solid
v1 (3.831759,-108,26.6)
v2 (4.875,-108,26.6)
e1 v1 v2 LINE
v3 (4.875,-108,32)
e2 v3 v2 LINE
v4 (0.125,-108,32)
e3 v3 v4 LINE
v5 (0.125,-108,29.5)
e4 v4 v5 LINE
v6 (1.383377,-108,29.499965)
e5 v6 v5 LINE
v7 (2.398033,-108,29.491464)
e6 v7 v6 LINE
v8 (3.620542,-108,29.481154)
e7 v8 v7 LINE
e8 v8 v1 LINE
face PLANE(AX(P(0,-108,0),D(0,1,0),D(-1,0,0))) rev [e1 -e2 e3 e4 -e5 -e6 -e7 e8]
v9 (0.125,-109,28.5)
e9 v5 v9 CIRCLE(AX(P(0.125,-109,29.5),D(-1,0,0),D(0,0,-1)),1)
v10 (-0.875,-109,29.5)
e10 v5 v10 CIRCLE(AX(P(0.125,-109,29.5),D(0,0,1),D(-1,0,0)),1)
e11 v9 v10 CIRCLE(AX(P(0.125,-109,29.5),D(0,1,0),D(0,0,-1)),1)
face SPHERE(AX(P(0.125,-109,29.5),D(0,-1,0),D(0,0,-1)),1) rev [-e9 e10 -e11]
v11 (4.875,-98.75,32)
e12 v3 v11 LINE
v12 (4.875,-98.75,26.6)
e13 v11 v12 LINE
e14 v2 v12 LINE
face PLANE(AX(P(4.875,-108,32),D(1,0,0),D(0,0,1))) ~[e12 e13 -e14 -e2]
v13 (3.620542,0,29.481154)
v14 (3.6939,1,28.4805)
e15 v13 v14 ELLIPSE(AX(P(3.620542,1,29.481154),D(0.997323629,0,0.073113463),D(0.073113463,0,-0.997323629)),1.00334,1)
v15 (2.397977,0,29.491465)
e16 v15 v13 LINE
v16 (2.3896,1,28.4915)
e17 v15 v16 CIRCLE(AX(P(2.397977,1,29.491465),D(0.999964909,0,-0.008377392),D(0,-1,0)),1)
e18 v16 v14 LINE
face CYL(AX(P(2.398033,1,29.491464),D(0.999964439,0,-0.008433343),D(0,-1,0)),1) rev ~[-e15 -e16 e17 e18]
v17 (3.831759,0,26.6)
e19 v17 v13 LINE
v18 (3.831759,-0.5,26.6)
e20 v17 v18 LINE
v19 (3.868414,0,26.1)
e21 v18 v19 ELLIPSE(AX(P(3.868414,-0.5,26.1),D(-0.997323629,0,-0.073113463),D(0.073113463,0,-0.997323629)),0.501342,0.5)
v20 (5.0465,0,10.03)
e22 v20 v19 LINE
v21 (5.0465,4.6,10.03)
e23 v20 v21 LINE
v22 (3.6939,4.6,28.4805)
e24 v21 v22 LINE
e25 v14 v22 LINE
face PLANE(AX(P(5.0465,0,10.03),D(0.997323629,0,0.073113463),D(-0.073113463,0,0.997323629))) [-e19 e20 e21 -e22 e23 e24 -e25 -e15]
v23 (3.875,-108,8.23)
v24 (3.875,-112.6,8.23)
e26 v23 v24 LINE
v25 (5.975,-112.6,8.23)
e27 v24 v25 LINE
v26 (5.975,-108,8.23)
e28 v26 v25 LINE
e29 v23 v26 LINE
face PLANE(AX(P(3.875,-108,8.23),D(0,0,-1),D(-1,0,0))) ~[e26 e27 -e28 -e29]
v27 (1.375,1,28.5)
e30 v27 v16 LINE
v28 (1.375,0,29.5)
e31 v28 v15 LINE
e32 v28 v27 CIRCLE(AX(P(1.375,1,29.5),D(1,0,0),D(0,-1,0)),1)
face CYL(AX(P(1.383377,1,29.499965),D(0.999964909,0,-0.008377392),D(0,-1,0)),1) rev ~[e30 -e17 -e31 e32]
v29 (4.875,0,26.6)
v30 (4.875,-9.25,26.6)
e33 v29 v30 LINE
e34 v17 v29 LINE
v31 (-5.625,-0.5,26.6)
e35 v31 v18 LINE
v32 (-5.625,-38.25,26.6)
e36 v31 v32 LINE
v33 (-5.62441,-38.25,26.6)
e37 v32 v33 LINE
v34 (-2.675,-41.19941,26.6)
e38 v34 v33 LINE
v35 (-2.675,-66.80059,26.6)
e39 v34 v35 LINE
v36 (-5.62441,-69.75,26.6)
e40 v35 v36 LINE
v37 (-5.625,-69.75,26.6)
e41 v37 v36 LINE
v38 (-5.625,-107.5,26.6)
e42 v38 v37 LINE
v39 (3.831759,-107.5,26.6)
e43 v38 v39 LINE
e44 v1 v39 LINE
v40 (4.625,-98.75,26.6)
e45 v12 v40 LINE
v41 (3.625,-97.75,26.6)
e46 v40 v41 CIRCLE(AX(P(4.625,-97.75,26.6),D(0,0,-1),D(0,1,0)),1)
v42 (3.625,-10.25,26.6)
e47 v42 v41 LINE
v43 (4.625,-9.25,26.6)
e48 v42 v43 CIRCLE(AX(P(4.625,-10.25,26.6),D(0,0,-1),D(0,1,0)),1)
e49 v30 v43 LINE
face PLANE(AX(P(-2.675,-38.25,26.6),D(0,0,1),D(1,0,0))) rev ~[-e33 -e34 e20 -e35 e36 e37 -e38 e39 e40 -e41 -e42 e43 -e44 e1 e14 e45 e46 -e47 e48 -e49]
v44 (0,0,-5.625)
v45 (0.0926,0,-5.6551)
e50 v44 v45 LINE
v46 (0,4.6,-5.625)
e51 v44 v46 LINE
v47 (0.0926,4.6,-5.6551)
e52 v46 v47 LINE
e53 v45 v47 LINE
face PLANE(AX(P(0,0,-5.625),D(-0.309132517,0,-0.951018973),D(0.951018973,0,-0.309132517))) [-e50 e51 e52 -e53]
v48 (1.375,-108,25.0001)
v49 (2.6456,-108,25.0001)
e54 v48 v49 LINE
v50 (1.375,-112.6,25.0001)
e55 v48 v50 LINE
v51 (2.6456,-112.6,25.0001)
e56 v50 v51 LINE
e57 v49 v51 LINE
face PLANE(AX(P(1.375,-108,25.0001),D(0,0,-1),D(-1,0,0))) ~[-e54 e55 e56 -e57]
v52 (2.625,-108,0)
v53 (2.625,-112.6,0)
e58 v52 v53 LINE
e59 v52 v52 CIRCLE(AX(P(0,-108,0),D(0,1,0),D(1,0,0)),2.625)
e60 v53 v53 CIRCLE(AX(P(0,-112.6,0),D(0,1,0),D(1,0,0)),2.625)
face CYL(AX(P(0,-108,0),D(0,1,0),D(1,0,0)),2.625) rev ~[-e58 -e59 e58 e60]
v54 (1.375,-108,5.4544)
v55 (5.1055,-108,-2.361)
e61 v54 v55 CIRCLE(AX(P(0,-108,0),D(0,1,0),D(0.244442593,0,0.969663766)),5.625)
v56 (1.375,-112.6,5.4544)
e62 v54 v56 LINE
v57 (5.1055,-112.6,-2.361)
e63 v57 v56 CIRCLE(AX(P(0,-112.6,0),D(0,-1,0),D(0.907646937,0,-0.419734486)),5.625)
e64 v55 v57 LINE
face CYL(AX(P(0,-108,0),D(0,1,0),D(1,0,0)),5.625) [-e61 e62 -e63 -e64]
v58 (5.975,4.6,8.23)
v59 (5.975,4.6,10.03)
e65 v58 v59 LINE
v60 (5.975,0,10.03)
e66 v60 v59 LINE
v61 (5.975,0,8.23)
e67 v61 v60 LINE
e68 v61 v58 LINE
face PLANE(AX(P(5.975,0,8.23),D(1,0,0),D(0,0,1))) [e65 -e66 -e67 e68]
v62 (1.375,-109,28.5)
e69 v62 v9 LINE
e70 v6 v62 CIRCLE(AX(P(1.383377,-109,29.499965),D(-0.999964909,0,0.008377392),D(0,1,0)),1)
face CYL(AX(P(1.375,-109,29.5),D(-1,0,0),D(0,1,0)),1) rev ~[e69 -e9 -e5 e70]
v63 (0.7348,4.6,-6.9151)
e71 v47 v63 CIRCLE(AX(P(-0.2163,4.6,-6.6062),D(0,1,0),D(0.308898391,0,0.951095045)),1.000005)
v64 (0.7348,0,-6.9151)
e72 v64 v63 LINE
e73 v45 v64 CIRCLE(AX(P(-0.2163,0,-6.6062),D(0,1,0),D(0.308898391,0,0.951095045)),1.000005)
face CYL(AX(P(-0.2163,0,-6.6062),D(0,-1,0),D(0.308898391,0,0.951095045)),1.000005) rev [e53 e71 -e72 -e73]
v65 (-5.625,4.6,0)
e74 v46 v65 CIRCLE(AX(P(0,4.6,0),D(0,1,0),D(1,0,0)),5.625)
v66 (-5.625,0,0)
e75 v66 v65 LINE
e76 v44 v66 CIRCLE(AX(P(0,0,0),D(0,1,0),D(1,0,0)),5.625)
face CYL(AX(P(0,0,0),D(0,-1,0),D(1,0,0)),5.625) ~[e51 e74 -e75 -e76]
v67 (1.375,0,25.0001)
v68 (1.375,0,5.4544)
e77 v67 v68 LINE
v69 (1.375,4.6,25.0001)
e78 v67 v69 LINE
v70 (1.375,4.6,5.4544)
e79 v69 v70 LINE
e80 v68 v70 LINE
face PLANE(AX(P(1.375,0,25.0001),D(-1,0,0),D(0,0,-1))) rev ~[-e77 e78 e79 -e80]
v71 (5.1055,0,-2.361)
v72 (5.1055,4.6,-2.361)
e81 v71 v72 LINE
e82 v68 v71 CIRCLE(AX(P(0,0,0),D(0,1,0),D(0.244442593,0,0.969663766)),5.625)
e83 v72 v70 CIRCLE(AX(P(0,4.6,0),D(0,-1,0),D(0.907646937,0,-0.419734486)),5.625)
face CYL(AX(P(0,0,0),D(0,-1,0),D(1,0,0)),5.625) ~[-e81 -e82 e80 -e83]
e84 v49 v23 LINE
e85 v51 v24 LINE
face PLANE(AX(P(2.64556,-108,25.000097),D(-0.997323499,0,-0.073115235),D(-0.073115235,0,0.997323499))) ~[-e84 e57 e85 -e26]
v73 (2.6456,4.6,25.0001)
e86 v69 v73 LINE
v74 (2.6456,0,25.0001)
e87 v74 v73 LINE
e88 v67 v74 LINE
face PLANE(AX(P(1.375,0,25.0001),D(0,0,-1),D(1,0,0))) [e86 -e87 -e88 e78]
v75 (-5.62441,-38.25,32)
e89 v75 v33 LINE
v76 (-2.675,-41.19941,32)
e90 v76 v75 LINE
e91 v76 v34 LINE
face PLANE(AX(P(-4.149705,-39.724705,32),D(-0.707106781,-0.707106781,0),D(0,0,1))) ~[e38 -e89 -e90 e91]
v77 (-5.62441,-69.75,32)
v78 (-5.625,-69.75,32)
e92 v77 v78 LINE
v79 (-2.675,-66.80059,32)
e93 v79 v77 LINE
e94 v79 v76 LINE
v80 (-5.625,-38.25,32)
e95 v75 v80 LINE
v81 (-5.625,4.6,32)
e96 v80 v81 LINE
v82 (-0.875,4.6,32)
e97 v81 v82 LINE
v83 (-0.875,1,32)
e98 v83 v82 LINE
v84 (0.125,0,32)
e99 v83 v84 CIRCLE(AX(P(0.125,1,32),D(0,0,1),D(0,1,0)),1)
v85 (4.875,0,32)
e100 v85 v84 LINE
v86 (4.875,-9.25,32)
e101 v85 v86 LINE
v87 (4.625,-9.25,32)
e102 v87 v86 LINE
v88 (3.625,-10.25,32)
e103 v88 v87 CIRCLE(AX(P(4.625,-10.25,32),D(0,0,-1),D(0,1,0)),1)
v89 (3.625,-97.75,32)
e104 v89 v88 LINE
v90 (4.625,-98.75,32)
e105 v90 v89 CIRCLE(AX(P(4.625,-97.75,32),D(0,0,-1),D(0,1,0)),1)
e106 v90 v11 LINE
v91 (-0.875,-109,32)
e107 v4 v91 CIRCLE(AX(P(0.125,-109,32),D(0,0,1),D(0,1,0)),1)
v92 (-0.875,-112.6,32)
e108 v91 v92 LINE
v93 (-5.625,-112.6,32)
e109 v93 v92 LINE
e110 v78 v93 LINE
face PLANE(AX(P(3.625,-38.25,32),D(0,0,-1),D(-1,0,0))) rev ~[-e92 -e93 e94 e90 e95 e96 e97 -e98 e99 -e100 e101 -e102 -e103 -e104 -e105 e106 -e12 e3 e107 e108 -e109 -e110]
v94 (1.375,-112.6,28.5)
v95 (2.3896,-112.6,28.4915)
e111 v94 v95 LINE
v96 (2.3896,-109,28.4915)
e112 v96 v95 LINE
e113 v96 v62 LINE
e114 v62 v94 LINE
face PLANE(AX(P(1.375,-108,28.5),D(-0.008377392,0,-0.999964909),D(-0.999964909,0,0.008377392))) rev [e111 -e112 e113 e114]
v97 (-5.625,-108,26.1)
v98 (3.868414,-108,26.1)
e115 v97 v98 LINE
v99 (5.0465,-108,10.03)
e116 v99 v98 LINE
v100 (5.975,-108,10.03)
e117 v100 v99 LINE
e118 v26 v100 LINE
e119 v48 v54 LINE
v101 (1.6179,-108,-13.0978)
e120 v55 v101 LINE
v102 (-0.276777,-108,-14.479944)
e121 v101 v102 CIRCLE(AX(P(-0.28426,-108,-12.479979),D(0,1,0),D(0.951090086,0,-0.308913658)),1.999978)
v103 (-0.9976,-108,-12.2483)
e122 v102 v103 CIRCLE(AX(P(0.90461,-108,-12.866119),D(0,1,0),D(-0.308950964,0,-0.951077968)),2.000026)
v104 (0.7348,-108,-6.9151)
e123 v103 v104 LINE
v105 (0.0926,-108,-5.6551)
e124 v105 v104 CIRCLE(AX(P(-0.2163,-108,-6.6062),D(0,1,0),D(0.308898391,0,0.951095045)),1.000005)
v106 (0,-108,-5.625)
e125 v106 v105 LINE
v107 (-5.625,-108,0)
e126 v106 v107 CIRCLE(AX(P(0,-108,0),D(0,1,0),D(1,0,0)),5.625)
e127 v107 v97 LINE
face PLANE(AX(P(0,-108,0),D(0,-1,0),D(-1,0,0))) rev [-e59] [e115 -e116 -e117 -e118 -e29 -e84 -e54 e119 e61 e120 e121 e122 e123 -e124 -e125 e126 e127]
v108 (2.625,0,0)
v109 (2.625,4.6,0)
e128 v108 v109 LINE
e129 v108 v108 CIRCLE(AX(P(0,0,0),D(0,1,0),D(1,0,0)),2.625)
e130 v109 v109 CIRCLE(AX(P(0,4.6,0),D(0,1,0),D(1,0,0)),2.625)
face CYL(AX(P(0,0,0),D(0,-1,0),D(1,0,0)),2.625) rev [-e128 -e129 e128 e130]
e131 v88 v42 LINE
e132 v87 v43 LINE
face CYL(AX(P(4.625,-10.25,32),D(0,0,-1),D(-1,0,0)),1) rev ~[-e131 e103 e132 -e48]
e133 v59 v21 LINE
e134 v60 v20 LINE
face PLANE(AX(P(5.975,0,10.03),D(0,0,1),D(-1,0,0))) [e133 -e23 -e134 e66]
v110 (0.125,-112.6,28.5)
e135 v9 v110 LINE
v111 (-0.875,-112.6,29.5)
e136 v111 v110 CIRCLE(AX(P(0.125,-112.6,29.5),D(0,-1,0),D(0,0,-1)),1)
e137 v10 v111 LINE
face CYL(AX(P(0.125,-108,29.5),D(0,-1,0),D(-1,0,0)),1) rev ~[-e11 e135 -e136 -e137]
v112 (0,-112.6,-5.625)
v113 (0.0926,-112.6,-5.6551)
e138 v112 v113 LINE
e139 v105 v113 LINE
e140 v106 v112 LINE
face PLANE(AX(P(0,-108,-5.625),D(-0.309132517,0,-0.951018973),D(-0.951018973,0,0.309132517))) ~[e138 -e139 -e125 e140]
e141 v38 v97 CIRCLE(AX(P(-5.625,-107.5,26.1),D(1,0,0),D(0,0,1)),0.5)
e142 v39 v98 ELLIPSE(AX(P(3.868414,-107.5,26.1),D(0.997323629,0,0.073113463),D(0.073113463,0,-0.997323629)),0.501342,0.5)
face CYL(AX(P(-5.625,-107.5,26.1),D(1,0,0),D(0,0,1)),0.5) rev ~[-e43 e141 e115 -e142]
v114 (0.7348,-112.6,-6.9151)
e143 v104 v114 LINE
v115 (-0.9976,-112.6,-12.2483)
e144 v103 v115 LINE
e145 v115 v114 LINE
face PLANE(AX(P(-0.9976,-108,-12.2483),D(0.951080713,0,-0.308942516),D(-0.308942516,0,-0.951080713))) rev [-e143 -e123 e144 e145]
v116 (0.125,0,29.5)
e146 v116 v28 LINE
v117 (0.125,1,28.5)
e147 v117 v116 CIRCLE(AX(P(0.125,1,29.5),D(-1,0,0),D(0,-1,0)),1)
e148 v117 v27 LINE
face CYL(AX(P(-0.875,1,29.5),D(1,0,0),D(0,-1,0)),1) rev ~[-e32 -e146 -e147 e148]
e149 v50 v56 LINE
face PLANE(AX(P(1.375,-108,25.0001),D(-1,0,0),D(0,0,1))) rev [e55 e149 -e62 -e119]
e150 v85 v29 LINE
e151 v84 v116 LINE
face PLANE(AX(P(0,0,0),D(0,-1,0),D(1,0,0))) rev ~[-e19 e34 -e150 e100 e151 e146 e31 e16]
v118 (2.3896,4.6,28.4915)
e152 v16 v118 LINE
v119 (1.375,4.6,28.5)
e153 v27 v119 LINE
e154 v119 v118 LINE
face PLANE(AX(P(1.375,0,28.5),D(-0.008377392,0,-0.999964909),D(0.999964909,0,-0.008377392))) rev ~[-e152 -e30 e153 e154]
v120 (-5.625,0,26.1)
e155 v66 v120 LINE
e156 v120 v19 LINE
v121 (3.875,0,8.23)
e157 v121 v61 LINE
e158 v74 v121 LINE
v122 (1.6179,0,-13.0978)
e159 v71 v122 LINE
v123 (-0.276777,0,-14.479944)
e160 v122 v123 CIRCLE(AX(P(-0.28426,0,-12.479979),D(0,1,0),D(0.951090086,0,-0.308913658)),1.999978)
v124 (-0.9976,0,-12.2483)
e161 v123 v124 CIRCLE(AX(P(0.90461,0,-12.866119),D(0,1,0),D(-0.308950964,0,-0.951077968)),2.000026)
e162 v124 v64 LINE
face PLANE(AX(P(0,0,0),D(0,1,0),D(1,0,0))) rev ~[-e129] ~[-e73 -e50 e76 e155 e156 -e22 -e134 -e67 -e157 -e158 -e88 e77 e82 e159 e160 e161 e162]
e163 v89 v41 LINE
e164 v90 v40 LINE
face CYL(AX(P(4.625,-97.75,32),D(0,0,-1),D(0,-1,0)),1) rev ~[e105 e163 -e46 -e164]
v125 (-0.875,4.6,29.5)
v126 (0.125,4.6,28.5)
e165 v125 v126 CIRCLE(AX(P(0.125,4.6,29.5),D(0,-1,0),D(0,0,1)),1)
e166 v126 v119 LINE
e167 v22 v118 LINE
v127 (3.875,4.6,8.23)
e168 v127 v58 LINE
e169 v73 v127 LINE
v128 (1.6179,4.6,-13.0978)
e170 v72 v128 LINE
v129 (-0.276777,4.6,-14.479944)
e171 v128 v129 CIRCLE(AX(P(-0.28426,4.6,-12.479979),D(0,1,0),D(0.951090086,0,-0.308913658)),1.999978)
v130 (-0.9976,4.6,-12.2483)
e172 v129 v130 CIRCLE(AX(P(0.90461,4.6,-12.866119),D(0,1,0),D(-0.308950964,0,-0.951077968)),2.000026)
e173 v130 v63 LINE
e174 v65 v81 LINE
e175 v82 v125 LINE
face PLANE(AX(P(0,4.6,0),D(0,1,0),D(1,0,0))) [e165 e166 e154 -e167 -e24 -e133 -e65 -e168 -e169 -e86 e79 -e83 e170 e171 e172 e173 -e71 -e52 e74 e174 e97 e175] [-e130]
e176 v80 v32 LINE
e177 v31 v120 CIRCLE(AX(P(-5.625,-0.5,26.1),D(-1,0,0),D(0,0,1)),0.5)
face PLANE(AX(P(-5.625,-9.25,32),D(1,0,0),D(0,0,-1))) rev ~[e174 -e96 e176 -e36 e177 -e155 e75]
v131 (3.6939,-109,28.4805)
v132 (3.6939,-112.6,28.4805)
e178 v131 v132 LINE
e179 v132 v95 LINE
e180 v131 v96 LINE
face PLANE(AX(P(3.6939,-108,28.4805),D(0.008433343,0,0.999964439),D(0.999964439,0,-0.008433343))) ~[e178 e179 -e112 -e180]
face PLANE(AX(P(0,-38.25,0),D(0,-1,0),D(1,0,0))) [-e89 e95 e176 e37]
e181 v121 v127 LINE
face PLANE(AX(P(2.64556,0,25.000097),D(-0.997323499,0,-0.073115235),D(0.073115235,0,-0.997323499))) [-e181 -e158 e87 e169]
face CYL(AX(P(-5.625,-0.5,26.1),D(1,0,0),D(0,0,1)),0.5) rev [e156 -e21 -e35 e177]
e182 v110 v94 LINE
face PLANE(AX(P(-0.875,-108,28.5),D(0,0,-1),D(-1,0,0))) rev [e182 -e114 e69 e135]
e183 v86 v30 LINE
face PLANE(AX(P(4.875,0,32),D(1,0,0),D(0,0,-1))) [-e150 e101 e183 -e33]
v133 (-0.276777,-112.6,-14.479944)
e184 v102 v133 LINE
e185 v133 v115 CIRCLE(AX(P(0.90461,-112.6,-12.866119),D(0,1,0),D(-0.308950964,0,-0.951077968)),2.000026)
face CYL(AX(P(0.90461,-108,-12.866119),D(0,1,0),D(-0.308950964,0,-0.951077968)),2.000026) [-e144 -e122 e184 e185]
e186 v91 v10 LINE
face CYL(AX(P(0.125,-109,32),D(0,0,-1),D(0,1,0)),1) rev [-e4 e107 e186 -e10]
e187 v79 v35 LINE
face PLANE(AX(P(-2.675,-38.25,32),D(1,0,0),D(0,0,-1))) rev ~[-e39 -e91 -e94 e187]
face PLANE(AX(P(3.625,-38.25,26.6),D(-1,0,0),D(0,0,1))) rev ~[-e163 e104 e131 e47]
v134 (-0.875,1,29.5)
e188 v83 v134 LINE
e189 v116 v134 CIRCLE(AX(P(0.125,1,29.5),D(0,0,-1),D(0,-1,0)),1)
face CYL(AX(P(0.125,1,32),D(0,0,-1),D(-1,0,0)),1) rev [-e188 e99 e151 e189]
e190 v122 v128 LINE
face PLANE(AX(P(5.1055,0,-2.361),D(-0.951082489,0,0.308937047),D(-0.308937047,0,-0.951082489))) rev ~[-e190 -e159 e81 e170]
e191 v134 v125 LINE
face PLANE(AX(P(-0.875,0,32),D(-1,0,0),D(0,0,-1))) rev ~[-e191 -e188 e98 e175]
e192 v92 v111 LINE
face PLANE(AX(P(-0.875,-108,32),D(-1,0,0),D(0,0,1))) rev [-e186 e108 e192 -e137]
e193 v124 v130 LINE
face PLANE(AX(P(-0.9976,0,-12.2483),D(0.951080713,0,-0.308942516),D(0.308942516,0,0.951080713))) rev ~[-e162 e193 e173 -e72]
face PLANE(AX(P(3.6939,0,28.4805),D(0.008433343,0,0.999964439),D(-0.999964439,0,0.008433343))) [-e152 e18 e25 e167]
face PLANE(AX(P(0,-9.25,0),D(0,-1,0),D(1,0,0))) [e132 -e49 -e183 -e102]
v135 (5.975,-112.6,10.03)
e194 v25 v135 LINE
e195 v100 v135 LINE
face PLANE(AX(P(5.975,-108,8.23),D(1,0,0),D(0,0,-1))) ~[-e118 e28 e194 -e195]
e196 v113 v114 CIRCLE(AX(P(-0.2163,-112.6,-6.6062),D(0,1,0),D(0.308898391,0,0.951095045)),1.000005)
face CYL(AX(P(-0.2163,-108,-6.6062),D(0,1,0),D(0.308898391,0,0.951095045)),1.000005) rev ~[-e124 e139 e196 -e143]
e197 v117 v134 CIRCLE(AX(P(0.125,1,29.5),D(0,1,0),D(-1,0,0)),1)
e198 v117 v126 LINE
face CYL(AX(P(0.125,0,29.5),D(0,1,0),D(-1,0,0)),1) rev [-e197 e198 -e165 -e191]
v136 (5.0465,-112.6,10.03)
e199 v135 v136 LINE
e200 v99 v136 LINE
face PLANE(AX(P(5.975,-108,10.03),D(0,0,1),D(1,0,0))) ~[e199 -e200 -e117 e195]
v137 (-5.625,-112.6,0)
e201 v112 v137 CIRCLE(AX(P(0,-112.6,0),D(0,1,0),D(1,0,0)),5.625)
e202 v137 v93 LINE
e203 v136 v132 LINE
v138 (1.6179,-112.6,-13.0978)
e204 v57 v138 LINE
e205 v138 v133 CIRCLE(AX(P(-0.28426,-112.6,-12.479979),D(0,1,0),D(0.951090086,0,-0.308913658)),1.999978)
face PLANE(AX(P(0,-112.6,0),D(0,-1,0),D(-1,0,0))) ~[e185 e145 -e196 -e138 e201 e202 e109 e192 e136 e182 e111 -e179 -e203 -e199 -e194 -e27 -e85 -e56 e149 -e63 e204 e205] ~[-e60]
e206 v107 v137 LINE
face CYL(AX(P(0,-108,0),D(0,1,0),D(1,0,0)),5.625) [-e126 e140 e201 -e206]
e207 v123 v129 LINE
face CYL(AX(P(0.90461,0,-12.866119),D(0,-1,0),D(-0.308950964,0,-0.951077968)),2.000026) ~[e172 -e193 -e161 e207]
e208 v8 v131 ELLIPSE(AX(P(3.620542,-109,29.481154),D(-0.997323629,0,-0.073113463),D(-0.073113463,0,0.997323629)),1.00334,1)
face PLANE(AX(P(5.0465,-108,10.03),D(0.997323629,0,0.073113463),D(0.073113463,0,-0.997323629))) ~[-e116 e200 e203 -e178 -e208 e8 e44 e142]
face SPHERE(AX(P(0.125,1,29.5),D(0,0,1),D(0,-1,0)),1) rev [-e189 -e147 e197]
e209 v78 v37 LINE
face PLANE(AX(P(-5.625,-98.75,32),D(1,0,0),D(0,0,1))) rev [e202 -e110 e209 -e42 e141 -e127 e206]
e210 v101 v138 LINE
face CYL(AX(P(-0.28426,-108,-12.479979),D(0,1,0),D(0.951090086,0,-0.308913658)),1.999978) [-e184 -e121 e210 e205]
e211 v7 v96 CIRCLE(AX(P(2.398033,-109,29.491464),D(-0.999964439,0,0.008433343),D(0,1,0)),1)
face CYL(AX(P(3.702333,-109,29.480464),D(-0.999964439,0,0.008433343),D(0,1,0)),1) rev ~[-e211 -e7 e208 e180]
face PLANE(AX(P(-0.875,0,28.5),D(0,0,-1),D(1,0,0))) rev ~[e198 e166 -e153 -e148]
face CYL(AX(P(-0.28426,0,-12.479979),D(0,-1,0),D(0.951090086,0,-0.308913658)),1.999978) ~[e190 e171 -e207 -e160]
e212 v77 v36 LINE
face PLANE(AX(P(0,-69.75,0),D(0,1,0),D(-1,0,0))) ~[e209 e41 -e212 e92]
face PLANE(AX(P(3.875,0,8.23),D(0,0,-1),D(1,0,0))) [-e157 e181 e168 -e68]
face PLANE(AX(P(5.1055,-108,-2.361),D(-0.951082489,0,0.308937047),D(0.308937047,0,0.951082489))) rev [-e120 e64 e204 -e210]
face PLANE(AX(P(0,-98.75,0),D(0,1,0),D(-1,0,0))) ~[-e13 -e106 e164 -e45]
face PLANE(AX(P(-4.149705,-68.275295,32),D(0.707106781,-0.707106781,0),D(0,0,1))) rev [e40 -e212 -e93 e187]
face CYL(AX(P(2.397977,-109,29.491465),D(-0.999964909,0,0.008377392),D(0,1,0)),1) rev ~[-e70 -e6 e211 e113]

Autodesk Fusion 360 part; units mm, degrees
sketch "Sketch4" plane through (0, 0, 0) normal (0, 1, 0) x (1, 0, 0)
  circle A0 centre (0, 0) radius 2.625
  circle A1 centre (0, 0) radius 5.625
  line L0 (-5.625, 0) -> (-5.625, -32)
  line L1 (-5.625, -32) -> (-0.875, -32)
  line L2 (1.375, -28.5) -> (1.375, -5.4544)
  line L3 (5.1055, 2.361) -> (1.6179, 13.0978)
  line L4 (-0.9022, 14.3821) -> (0.2867, 14.7683)
  line L5 (-0.9976, 12.2483) -> (0.7348, 6.9151)
  line L6 (1.375, -28.5) -> (2.3896, -28.4915)
  line L7 (2.3896, -28.4915) -> (3.875, -8.23)
  line L8 (3.875, -8.23) -> (5.975, -8.23)
  line L9 (5.975, -8.23) -> (5.975, -10.03)
  line L10 (5.975, -10.03) -> (5.0465, -10.03)
  line L11 (5.0465, -10.03) -> (3.6939, -28.4805)
  line L12 (3.6939, -28.4805) -> (2.3896, -28.4915)
  line L13 (1.375, -28.5) -> (1.3456, -25.0001)
  line L14 (1.3456, -25.0001) -> (2.6456, -25.0001)
  arc A2 (0.2867, 14.7683) -> (-0.9976, 12.2483) centre (0.9046, 12.8661) ccw
  arc A3 (1.6179, 13.0978) -> (-0.9022, 14.3821) centre (-0.2843, 12.48) ccw
  line L15 (0, 5.625) -> (0.0926, 5.6551)
  arc A4 (0.0926, 5.6551) -> (0.7348, 6.9151) centre (-0.2163, 6.6062) ccw
  line L16 (-5.625, -32) -> (-0.875, -32)
  line L17 (-0.875, -32) -> (-0.875, -28.5)
  line L18 (-0.875, -28.5) -> (1.375, -28.5)
  dimension "d17" = 5.25
  dimension "d18" = 11.25
  dimension "d19" = 32
  dimension "d23" = 3.5
  dimension "d24" = 18.5
  dimension "d25" = 1.8
  dimension "d26" = 2.1
  dimension "d28" = 1.3
  dimension "d29" = 1.3
  dimension "d30" = 2.5
  dimension "d31" = 2
  dimension "d32" = 2.75
  dimension "d33" = 1
  dimension "d34" = 4.75
  dimension "d35" = 3.5
  dimension "d39" = 7
extrude "Extrude1" add sketch "Sketch4" along normal blind 4.6 contours A1 | A1 L3 L5 A2 A3 L15 A4 | A1 L0 L1 L2 L13 L14 L16 L17 L18 | L2 L6 L7 L14 | L2 L13 L14 | L7 L8 L9 L10 L11 L12
sketch "Sketch5" plane through (0, 0, 0) normal (0, -1, 0) x (1, 0, 0)
  circle A0 centre (0, 0) radius 2.625
  arc A1 (-5.625, 0) -> (0, -5.625) centre (0, 0) ccw
  line L0 (0, -5.625) -> (0.0926, -5.6551)
  arc A2 (0.7348, -6.9151) -> (0.0926, -5.6551) centre (-0.2163, -6.6062) ccw
  line L1 (0.7348, -6.9151) -> (-0.9976, -12.2483)
  arc A3 (-0.9976, -12.2483) -> (-0.2768, -14.4799) centre (0.9046, -12.8661) ccw
  arc A4 (-0.2768, -14.4799) -> (1.6179, -13.0978) centre (-0.2843, -12.48) ccw
  line L2 (1.6179, -13.0978) -> (5.1055, -2.361)
  arc A5 (5.1055, -2.361) -> (1.375, 5.4544) centre (0, 0) ccw
  line L3 (1.375, 5.4544) -> (1.375, 25.0001)
  line L4 (1.375, 25.0001) -> (2.6456, 25.0001)
  line L5 (2.6456, 25.0001) -> (3.875, 8.23)
  line L6 (3.875, 8.23) -> (5.975, 8.23)
  line L7 (5.975, 8.23) -> (5.975, 10.03)
  line L8 (5.975, 10.03) -> (5.0465, 10.03)
  line L9 (5.0465, 10.03) -> (3.6939, 28.4805)
  line L10 (-0.875, 28.5) -> (-0.875, 32)
  line L11 (-0.875, 32) -> (-5.625, 32)
  line L12 (-5.625, 32) -> (-5.625, 0)
  line L13 (-5.625, 26.6) -> (-5.625, 32)
  line L14 (-5.625, 32) -> (4.875, 32)
  line L15 (4.875, 32) -> (4.875, 26)
  line L16 (-5.625, 26.6) -> (4.875, 26.6)
  line L17 (4.875, 26.6) -> (4.875, 26)
  line L18 (3.6939, 28.4805) -> (1.375, 28.5)
  line L19 (1.375, 28.5) -> (-0.875, 28.5)
  dimension "d42" = 10.5
  dimension "d59" = 5.4
extrude "Extrude2" add sketch "Sketch5" along normal blind 9.25 contours L9 L10 L11 L12 L13 L14 L16 L18 L19 | L9 L10 L14 L15 L16 L18 L19
sketch "Sketch7" plane through (0, -9.25, 0) normal (0, -1, 0) x (1, 0, 0)
  line L0 (-5.625, 26.6) -> (4.875, 26.6)
  line L1 (4.875, 26.6) -> (4.875, 32)
  line L2 (4.875, 32) -> (-5.625, 32)
  line L3 (-5.625, 32) -> (-5.625, 26.6)
  line L4 (-5.625, 32) -> (3.625, 32)
  line L5 (3.625, 32) -> (3.625, 26.6)
  line L6 (3.625, 26.6) -> (-5.625, 26.6)
  line L7 (-5.625, 26.6) -> (-5.625, 32)
  dimension "d43" = 9.25
  dimension "d58" = 5.4
extrude "Extrude3" add sketch "Sketch7" along normal blind 29 contours L0 L2 L3 L4 L5 L6 L7
sketch "Sketch8" plane through (0, -38.25, 0) normal (0, -1, 0) x (1, 0, 0)
  line L0 (-5.625, 26.6) -> (3.625, 26.6)
  line L1 (3.625, 26.6) -> (3.625, 32)
  line L2 (3.625, 32) -> (-5.625, 32)
  line L3 (-5.625, 32) -> (-5.625, 26.6)
  line L4 (3.625, 32) -> (-2.675, 32)
  line L5 (-2.675, 32) -> (-2.675, 25.81)
  line L6 (-2.675, 25.81) -> (3.625, 25.81)
  line L7 (3.625, 25.81) -> (3.625, 32)
  dimension "d46" = 6.3
extrude "Extrude4" add sketch "Sketch8" along normal blind 15.75 contours L0 L1 L2 L4 L5 L7
mirror "Mirror1" about plane through (0, -54, 0) normal (0, -1, 0) of bodies 1 merged
chamfer "Chamfer1" distance 2.95 angle 45 2 edges at (-2.675, -69.75, 29.3) (-2.675, -38.25, 29.3)
fillet "Fillet1" radius 1 4 edges at (-0.875, 0, 30.25) (0.25, 0, 28.5) (2.5345, 0, 28.4903) (-0.875, 2.3, 28.5)
fillet "Fillet2" radius 1 4 edges at (-0.875, -110.3, 28.5) (2.5345, -108, 28.4903) (0.25, -108, 28.5) (-0.875, -108, 30.25)
fillet "Fillet3" radius 1 2 edges at (3.625, -98.75, 29.3) (3.625, -9.25, 29.3)
fillet "Fillet4" radius 0.5 2 edges at (-0.8966, 0, 26.6) (-0.8966, -108, 26.6)
equation "d47 = 27 mm - 11.25 mm"
